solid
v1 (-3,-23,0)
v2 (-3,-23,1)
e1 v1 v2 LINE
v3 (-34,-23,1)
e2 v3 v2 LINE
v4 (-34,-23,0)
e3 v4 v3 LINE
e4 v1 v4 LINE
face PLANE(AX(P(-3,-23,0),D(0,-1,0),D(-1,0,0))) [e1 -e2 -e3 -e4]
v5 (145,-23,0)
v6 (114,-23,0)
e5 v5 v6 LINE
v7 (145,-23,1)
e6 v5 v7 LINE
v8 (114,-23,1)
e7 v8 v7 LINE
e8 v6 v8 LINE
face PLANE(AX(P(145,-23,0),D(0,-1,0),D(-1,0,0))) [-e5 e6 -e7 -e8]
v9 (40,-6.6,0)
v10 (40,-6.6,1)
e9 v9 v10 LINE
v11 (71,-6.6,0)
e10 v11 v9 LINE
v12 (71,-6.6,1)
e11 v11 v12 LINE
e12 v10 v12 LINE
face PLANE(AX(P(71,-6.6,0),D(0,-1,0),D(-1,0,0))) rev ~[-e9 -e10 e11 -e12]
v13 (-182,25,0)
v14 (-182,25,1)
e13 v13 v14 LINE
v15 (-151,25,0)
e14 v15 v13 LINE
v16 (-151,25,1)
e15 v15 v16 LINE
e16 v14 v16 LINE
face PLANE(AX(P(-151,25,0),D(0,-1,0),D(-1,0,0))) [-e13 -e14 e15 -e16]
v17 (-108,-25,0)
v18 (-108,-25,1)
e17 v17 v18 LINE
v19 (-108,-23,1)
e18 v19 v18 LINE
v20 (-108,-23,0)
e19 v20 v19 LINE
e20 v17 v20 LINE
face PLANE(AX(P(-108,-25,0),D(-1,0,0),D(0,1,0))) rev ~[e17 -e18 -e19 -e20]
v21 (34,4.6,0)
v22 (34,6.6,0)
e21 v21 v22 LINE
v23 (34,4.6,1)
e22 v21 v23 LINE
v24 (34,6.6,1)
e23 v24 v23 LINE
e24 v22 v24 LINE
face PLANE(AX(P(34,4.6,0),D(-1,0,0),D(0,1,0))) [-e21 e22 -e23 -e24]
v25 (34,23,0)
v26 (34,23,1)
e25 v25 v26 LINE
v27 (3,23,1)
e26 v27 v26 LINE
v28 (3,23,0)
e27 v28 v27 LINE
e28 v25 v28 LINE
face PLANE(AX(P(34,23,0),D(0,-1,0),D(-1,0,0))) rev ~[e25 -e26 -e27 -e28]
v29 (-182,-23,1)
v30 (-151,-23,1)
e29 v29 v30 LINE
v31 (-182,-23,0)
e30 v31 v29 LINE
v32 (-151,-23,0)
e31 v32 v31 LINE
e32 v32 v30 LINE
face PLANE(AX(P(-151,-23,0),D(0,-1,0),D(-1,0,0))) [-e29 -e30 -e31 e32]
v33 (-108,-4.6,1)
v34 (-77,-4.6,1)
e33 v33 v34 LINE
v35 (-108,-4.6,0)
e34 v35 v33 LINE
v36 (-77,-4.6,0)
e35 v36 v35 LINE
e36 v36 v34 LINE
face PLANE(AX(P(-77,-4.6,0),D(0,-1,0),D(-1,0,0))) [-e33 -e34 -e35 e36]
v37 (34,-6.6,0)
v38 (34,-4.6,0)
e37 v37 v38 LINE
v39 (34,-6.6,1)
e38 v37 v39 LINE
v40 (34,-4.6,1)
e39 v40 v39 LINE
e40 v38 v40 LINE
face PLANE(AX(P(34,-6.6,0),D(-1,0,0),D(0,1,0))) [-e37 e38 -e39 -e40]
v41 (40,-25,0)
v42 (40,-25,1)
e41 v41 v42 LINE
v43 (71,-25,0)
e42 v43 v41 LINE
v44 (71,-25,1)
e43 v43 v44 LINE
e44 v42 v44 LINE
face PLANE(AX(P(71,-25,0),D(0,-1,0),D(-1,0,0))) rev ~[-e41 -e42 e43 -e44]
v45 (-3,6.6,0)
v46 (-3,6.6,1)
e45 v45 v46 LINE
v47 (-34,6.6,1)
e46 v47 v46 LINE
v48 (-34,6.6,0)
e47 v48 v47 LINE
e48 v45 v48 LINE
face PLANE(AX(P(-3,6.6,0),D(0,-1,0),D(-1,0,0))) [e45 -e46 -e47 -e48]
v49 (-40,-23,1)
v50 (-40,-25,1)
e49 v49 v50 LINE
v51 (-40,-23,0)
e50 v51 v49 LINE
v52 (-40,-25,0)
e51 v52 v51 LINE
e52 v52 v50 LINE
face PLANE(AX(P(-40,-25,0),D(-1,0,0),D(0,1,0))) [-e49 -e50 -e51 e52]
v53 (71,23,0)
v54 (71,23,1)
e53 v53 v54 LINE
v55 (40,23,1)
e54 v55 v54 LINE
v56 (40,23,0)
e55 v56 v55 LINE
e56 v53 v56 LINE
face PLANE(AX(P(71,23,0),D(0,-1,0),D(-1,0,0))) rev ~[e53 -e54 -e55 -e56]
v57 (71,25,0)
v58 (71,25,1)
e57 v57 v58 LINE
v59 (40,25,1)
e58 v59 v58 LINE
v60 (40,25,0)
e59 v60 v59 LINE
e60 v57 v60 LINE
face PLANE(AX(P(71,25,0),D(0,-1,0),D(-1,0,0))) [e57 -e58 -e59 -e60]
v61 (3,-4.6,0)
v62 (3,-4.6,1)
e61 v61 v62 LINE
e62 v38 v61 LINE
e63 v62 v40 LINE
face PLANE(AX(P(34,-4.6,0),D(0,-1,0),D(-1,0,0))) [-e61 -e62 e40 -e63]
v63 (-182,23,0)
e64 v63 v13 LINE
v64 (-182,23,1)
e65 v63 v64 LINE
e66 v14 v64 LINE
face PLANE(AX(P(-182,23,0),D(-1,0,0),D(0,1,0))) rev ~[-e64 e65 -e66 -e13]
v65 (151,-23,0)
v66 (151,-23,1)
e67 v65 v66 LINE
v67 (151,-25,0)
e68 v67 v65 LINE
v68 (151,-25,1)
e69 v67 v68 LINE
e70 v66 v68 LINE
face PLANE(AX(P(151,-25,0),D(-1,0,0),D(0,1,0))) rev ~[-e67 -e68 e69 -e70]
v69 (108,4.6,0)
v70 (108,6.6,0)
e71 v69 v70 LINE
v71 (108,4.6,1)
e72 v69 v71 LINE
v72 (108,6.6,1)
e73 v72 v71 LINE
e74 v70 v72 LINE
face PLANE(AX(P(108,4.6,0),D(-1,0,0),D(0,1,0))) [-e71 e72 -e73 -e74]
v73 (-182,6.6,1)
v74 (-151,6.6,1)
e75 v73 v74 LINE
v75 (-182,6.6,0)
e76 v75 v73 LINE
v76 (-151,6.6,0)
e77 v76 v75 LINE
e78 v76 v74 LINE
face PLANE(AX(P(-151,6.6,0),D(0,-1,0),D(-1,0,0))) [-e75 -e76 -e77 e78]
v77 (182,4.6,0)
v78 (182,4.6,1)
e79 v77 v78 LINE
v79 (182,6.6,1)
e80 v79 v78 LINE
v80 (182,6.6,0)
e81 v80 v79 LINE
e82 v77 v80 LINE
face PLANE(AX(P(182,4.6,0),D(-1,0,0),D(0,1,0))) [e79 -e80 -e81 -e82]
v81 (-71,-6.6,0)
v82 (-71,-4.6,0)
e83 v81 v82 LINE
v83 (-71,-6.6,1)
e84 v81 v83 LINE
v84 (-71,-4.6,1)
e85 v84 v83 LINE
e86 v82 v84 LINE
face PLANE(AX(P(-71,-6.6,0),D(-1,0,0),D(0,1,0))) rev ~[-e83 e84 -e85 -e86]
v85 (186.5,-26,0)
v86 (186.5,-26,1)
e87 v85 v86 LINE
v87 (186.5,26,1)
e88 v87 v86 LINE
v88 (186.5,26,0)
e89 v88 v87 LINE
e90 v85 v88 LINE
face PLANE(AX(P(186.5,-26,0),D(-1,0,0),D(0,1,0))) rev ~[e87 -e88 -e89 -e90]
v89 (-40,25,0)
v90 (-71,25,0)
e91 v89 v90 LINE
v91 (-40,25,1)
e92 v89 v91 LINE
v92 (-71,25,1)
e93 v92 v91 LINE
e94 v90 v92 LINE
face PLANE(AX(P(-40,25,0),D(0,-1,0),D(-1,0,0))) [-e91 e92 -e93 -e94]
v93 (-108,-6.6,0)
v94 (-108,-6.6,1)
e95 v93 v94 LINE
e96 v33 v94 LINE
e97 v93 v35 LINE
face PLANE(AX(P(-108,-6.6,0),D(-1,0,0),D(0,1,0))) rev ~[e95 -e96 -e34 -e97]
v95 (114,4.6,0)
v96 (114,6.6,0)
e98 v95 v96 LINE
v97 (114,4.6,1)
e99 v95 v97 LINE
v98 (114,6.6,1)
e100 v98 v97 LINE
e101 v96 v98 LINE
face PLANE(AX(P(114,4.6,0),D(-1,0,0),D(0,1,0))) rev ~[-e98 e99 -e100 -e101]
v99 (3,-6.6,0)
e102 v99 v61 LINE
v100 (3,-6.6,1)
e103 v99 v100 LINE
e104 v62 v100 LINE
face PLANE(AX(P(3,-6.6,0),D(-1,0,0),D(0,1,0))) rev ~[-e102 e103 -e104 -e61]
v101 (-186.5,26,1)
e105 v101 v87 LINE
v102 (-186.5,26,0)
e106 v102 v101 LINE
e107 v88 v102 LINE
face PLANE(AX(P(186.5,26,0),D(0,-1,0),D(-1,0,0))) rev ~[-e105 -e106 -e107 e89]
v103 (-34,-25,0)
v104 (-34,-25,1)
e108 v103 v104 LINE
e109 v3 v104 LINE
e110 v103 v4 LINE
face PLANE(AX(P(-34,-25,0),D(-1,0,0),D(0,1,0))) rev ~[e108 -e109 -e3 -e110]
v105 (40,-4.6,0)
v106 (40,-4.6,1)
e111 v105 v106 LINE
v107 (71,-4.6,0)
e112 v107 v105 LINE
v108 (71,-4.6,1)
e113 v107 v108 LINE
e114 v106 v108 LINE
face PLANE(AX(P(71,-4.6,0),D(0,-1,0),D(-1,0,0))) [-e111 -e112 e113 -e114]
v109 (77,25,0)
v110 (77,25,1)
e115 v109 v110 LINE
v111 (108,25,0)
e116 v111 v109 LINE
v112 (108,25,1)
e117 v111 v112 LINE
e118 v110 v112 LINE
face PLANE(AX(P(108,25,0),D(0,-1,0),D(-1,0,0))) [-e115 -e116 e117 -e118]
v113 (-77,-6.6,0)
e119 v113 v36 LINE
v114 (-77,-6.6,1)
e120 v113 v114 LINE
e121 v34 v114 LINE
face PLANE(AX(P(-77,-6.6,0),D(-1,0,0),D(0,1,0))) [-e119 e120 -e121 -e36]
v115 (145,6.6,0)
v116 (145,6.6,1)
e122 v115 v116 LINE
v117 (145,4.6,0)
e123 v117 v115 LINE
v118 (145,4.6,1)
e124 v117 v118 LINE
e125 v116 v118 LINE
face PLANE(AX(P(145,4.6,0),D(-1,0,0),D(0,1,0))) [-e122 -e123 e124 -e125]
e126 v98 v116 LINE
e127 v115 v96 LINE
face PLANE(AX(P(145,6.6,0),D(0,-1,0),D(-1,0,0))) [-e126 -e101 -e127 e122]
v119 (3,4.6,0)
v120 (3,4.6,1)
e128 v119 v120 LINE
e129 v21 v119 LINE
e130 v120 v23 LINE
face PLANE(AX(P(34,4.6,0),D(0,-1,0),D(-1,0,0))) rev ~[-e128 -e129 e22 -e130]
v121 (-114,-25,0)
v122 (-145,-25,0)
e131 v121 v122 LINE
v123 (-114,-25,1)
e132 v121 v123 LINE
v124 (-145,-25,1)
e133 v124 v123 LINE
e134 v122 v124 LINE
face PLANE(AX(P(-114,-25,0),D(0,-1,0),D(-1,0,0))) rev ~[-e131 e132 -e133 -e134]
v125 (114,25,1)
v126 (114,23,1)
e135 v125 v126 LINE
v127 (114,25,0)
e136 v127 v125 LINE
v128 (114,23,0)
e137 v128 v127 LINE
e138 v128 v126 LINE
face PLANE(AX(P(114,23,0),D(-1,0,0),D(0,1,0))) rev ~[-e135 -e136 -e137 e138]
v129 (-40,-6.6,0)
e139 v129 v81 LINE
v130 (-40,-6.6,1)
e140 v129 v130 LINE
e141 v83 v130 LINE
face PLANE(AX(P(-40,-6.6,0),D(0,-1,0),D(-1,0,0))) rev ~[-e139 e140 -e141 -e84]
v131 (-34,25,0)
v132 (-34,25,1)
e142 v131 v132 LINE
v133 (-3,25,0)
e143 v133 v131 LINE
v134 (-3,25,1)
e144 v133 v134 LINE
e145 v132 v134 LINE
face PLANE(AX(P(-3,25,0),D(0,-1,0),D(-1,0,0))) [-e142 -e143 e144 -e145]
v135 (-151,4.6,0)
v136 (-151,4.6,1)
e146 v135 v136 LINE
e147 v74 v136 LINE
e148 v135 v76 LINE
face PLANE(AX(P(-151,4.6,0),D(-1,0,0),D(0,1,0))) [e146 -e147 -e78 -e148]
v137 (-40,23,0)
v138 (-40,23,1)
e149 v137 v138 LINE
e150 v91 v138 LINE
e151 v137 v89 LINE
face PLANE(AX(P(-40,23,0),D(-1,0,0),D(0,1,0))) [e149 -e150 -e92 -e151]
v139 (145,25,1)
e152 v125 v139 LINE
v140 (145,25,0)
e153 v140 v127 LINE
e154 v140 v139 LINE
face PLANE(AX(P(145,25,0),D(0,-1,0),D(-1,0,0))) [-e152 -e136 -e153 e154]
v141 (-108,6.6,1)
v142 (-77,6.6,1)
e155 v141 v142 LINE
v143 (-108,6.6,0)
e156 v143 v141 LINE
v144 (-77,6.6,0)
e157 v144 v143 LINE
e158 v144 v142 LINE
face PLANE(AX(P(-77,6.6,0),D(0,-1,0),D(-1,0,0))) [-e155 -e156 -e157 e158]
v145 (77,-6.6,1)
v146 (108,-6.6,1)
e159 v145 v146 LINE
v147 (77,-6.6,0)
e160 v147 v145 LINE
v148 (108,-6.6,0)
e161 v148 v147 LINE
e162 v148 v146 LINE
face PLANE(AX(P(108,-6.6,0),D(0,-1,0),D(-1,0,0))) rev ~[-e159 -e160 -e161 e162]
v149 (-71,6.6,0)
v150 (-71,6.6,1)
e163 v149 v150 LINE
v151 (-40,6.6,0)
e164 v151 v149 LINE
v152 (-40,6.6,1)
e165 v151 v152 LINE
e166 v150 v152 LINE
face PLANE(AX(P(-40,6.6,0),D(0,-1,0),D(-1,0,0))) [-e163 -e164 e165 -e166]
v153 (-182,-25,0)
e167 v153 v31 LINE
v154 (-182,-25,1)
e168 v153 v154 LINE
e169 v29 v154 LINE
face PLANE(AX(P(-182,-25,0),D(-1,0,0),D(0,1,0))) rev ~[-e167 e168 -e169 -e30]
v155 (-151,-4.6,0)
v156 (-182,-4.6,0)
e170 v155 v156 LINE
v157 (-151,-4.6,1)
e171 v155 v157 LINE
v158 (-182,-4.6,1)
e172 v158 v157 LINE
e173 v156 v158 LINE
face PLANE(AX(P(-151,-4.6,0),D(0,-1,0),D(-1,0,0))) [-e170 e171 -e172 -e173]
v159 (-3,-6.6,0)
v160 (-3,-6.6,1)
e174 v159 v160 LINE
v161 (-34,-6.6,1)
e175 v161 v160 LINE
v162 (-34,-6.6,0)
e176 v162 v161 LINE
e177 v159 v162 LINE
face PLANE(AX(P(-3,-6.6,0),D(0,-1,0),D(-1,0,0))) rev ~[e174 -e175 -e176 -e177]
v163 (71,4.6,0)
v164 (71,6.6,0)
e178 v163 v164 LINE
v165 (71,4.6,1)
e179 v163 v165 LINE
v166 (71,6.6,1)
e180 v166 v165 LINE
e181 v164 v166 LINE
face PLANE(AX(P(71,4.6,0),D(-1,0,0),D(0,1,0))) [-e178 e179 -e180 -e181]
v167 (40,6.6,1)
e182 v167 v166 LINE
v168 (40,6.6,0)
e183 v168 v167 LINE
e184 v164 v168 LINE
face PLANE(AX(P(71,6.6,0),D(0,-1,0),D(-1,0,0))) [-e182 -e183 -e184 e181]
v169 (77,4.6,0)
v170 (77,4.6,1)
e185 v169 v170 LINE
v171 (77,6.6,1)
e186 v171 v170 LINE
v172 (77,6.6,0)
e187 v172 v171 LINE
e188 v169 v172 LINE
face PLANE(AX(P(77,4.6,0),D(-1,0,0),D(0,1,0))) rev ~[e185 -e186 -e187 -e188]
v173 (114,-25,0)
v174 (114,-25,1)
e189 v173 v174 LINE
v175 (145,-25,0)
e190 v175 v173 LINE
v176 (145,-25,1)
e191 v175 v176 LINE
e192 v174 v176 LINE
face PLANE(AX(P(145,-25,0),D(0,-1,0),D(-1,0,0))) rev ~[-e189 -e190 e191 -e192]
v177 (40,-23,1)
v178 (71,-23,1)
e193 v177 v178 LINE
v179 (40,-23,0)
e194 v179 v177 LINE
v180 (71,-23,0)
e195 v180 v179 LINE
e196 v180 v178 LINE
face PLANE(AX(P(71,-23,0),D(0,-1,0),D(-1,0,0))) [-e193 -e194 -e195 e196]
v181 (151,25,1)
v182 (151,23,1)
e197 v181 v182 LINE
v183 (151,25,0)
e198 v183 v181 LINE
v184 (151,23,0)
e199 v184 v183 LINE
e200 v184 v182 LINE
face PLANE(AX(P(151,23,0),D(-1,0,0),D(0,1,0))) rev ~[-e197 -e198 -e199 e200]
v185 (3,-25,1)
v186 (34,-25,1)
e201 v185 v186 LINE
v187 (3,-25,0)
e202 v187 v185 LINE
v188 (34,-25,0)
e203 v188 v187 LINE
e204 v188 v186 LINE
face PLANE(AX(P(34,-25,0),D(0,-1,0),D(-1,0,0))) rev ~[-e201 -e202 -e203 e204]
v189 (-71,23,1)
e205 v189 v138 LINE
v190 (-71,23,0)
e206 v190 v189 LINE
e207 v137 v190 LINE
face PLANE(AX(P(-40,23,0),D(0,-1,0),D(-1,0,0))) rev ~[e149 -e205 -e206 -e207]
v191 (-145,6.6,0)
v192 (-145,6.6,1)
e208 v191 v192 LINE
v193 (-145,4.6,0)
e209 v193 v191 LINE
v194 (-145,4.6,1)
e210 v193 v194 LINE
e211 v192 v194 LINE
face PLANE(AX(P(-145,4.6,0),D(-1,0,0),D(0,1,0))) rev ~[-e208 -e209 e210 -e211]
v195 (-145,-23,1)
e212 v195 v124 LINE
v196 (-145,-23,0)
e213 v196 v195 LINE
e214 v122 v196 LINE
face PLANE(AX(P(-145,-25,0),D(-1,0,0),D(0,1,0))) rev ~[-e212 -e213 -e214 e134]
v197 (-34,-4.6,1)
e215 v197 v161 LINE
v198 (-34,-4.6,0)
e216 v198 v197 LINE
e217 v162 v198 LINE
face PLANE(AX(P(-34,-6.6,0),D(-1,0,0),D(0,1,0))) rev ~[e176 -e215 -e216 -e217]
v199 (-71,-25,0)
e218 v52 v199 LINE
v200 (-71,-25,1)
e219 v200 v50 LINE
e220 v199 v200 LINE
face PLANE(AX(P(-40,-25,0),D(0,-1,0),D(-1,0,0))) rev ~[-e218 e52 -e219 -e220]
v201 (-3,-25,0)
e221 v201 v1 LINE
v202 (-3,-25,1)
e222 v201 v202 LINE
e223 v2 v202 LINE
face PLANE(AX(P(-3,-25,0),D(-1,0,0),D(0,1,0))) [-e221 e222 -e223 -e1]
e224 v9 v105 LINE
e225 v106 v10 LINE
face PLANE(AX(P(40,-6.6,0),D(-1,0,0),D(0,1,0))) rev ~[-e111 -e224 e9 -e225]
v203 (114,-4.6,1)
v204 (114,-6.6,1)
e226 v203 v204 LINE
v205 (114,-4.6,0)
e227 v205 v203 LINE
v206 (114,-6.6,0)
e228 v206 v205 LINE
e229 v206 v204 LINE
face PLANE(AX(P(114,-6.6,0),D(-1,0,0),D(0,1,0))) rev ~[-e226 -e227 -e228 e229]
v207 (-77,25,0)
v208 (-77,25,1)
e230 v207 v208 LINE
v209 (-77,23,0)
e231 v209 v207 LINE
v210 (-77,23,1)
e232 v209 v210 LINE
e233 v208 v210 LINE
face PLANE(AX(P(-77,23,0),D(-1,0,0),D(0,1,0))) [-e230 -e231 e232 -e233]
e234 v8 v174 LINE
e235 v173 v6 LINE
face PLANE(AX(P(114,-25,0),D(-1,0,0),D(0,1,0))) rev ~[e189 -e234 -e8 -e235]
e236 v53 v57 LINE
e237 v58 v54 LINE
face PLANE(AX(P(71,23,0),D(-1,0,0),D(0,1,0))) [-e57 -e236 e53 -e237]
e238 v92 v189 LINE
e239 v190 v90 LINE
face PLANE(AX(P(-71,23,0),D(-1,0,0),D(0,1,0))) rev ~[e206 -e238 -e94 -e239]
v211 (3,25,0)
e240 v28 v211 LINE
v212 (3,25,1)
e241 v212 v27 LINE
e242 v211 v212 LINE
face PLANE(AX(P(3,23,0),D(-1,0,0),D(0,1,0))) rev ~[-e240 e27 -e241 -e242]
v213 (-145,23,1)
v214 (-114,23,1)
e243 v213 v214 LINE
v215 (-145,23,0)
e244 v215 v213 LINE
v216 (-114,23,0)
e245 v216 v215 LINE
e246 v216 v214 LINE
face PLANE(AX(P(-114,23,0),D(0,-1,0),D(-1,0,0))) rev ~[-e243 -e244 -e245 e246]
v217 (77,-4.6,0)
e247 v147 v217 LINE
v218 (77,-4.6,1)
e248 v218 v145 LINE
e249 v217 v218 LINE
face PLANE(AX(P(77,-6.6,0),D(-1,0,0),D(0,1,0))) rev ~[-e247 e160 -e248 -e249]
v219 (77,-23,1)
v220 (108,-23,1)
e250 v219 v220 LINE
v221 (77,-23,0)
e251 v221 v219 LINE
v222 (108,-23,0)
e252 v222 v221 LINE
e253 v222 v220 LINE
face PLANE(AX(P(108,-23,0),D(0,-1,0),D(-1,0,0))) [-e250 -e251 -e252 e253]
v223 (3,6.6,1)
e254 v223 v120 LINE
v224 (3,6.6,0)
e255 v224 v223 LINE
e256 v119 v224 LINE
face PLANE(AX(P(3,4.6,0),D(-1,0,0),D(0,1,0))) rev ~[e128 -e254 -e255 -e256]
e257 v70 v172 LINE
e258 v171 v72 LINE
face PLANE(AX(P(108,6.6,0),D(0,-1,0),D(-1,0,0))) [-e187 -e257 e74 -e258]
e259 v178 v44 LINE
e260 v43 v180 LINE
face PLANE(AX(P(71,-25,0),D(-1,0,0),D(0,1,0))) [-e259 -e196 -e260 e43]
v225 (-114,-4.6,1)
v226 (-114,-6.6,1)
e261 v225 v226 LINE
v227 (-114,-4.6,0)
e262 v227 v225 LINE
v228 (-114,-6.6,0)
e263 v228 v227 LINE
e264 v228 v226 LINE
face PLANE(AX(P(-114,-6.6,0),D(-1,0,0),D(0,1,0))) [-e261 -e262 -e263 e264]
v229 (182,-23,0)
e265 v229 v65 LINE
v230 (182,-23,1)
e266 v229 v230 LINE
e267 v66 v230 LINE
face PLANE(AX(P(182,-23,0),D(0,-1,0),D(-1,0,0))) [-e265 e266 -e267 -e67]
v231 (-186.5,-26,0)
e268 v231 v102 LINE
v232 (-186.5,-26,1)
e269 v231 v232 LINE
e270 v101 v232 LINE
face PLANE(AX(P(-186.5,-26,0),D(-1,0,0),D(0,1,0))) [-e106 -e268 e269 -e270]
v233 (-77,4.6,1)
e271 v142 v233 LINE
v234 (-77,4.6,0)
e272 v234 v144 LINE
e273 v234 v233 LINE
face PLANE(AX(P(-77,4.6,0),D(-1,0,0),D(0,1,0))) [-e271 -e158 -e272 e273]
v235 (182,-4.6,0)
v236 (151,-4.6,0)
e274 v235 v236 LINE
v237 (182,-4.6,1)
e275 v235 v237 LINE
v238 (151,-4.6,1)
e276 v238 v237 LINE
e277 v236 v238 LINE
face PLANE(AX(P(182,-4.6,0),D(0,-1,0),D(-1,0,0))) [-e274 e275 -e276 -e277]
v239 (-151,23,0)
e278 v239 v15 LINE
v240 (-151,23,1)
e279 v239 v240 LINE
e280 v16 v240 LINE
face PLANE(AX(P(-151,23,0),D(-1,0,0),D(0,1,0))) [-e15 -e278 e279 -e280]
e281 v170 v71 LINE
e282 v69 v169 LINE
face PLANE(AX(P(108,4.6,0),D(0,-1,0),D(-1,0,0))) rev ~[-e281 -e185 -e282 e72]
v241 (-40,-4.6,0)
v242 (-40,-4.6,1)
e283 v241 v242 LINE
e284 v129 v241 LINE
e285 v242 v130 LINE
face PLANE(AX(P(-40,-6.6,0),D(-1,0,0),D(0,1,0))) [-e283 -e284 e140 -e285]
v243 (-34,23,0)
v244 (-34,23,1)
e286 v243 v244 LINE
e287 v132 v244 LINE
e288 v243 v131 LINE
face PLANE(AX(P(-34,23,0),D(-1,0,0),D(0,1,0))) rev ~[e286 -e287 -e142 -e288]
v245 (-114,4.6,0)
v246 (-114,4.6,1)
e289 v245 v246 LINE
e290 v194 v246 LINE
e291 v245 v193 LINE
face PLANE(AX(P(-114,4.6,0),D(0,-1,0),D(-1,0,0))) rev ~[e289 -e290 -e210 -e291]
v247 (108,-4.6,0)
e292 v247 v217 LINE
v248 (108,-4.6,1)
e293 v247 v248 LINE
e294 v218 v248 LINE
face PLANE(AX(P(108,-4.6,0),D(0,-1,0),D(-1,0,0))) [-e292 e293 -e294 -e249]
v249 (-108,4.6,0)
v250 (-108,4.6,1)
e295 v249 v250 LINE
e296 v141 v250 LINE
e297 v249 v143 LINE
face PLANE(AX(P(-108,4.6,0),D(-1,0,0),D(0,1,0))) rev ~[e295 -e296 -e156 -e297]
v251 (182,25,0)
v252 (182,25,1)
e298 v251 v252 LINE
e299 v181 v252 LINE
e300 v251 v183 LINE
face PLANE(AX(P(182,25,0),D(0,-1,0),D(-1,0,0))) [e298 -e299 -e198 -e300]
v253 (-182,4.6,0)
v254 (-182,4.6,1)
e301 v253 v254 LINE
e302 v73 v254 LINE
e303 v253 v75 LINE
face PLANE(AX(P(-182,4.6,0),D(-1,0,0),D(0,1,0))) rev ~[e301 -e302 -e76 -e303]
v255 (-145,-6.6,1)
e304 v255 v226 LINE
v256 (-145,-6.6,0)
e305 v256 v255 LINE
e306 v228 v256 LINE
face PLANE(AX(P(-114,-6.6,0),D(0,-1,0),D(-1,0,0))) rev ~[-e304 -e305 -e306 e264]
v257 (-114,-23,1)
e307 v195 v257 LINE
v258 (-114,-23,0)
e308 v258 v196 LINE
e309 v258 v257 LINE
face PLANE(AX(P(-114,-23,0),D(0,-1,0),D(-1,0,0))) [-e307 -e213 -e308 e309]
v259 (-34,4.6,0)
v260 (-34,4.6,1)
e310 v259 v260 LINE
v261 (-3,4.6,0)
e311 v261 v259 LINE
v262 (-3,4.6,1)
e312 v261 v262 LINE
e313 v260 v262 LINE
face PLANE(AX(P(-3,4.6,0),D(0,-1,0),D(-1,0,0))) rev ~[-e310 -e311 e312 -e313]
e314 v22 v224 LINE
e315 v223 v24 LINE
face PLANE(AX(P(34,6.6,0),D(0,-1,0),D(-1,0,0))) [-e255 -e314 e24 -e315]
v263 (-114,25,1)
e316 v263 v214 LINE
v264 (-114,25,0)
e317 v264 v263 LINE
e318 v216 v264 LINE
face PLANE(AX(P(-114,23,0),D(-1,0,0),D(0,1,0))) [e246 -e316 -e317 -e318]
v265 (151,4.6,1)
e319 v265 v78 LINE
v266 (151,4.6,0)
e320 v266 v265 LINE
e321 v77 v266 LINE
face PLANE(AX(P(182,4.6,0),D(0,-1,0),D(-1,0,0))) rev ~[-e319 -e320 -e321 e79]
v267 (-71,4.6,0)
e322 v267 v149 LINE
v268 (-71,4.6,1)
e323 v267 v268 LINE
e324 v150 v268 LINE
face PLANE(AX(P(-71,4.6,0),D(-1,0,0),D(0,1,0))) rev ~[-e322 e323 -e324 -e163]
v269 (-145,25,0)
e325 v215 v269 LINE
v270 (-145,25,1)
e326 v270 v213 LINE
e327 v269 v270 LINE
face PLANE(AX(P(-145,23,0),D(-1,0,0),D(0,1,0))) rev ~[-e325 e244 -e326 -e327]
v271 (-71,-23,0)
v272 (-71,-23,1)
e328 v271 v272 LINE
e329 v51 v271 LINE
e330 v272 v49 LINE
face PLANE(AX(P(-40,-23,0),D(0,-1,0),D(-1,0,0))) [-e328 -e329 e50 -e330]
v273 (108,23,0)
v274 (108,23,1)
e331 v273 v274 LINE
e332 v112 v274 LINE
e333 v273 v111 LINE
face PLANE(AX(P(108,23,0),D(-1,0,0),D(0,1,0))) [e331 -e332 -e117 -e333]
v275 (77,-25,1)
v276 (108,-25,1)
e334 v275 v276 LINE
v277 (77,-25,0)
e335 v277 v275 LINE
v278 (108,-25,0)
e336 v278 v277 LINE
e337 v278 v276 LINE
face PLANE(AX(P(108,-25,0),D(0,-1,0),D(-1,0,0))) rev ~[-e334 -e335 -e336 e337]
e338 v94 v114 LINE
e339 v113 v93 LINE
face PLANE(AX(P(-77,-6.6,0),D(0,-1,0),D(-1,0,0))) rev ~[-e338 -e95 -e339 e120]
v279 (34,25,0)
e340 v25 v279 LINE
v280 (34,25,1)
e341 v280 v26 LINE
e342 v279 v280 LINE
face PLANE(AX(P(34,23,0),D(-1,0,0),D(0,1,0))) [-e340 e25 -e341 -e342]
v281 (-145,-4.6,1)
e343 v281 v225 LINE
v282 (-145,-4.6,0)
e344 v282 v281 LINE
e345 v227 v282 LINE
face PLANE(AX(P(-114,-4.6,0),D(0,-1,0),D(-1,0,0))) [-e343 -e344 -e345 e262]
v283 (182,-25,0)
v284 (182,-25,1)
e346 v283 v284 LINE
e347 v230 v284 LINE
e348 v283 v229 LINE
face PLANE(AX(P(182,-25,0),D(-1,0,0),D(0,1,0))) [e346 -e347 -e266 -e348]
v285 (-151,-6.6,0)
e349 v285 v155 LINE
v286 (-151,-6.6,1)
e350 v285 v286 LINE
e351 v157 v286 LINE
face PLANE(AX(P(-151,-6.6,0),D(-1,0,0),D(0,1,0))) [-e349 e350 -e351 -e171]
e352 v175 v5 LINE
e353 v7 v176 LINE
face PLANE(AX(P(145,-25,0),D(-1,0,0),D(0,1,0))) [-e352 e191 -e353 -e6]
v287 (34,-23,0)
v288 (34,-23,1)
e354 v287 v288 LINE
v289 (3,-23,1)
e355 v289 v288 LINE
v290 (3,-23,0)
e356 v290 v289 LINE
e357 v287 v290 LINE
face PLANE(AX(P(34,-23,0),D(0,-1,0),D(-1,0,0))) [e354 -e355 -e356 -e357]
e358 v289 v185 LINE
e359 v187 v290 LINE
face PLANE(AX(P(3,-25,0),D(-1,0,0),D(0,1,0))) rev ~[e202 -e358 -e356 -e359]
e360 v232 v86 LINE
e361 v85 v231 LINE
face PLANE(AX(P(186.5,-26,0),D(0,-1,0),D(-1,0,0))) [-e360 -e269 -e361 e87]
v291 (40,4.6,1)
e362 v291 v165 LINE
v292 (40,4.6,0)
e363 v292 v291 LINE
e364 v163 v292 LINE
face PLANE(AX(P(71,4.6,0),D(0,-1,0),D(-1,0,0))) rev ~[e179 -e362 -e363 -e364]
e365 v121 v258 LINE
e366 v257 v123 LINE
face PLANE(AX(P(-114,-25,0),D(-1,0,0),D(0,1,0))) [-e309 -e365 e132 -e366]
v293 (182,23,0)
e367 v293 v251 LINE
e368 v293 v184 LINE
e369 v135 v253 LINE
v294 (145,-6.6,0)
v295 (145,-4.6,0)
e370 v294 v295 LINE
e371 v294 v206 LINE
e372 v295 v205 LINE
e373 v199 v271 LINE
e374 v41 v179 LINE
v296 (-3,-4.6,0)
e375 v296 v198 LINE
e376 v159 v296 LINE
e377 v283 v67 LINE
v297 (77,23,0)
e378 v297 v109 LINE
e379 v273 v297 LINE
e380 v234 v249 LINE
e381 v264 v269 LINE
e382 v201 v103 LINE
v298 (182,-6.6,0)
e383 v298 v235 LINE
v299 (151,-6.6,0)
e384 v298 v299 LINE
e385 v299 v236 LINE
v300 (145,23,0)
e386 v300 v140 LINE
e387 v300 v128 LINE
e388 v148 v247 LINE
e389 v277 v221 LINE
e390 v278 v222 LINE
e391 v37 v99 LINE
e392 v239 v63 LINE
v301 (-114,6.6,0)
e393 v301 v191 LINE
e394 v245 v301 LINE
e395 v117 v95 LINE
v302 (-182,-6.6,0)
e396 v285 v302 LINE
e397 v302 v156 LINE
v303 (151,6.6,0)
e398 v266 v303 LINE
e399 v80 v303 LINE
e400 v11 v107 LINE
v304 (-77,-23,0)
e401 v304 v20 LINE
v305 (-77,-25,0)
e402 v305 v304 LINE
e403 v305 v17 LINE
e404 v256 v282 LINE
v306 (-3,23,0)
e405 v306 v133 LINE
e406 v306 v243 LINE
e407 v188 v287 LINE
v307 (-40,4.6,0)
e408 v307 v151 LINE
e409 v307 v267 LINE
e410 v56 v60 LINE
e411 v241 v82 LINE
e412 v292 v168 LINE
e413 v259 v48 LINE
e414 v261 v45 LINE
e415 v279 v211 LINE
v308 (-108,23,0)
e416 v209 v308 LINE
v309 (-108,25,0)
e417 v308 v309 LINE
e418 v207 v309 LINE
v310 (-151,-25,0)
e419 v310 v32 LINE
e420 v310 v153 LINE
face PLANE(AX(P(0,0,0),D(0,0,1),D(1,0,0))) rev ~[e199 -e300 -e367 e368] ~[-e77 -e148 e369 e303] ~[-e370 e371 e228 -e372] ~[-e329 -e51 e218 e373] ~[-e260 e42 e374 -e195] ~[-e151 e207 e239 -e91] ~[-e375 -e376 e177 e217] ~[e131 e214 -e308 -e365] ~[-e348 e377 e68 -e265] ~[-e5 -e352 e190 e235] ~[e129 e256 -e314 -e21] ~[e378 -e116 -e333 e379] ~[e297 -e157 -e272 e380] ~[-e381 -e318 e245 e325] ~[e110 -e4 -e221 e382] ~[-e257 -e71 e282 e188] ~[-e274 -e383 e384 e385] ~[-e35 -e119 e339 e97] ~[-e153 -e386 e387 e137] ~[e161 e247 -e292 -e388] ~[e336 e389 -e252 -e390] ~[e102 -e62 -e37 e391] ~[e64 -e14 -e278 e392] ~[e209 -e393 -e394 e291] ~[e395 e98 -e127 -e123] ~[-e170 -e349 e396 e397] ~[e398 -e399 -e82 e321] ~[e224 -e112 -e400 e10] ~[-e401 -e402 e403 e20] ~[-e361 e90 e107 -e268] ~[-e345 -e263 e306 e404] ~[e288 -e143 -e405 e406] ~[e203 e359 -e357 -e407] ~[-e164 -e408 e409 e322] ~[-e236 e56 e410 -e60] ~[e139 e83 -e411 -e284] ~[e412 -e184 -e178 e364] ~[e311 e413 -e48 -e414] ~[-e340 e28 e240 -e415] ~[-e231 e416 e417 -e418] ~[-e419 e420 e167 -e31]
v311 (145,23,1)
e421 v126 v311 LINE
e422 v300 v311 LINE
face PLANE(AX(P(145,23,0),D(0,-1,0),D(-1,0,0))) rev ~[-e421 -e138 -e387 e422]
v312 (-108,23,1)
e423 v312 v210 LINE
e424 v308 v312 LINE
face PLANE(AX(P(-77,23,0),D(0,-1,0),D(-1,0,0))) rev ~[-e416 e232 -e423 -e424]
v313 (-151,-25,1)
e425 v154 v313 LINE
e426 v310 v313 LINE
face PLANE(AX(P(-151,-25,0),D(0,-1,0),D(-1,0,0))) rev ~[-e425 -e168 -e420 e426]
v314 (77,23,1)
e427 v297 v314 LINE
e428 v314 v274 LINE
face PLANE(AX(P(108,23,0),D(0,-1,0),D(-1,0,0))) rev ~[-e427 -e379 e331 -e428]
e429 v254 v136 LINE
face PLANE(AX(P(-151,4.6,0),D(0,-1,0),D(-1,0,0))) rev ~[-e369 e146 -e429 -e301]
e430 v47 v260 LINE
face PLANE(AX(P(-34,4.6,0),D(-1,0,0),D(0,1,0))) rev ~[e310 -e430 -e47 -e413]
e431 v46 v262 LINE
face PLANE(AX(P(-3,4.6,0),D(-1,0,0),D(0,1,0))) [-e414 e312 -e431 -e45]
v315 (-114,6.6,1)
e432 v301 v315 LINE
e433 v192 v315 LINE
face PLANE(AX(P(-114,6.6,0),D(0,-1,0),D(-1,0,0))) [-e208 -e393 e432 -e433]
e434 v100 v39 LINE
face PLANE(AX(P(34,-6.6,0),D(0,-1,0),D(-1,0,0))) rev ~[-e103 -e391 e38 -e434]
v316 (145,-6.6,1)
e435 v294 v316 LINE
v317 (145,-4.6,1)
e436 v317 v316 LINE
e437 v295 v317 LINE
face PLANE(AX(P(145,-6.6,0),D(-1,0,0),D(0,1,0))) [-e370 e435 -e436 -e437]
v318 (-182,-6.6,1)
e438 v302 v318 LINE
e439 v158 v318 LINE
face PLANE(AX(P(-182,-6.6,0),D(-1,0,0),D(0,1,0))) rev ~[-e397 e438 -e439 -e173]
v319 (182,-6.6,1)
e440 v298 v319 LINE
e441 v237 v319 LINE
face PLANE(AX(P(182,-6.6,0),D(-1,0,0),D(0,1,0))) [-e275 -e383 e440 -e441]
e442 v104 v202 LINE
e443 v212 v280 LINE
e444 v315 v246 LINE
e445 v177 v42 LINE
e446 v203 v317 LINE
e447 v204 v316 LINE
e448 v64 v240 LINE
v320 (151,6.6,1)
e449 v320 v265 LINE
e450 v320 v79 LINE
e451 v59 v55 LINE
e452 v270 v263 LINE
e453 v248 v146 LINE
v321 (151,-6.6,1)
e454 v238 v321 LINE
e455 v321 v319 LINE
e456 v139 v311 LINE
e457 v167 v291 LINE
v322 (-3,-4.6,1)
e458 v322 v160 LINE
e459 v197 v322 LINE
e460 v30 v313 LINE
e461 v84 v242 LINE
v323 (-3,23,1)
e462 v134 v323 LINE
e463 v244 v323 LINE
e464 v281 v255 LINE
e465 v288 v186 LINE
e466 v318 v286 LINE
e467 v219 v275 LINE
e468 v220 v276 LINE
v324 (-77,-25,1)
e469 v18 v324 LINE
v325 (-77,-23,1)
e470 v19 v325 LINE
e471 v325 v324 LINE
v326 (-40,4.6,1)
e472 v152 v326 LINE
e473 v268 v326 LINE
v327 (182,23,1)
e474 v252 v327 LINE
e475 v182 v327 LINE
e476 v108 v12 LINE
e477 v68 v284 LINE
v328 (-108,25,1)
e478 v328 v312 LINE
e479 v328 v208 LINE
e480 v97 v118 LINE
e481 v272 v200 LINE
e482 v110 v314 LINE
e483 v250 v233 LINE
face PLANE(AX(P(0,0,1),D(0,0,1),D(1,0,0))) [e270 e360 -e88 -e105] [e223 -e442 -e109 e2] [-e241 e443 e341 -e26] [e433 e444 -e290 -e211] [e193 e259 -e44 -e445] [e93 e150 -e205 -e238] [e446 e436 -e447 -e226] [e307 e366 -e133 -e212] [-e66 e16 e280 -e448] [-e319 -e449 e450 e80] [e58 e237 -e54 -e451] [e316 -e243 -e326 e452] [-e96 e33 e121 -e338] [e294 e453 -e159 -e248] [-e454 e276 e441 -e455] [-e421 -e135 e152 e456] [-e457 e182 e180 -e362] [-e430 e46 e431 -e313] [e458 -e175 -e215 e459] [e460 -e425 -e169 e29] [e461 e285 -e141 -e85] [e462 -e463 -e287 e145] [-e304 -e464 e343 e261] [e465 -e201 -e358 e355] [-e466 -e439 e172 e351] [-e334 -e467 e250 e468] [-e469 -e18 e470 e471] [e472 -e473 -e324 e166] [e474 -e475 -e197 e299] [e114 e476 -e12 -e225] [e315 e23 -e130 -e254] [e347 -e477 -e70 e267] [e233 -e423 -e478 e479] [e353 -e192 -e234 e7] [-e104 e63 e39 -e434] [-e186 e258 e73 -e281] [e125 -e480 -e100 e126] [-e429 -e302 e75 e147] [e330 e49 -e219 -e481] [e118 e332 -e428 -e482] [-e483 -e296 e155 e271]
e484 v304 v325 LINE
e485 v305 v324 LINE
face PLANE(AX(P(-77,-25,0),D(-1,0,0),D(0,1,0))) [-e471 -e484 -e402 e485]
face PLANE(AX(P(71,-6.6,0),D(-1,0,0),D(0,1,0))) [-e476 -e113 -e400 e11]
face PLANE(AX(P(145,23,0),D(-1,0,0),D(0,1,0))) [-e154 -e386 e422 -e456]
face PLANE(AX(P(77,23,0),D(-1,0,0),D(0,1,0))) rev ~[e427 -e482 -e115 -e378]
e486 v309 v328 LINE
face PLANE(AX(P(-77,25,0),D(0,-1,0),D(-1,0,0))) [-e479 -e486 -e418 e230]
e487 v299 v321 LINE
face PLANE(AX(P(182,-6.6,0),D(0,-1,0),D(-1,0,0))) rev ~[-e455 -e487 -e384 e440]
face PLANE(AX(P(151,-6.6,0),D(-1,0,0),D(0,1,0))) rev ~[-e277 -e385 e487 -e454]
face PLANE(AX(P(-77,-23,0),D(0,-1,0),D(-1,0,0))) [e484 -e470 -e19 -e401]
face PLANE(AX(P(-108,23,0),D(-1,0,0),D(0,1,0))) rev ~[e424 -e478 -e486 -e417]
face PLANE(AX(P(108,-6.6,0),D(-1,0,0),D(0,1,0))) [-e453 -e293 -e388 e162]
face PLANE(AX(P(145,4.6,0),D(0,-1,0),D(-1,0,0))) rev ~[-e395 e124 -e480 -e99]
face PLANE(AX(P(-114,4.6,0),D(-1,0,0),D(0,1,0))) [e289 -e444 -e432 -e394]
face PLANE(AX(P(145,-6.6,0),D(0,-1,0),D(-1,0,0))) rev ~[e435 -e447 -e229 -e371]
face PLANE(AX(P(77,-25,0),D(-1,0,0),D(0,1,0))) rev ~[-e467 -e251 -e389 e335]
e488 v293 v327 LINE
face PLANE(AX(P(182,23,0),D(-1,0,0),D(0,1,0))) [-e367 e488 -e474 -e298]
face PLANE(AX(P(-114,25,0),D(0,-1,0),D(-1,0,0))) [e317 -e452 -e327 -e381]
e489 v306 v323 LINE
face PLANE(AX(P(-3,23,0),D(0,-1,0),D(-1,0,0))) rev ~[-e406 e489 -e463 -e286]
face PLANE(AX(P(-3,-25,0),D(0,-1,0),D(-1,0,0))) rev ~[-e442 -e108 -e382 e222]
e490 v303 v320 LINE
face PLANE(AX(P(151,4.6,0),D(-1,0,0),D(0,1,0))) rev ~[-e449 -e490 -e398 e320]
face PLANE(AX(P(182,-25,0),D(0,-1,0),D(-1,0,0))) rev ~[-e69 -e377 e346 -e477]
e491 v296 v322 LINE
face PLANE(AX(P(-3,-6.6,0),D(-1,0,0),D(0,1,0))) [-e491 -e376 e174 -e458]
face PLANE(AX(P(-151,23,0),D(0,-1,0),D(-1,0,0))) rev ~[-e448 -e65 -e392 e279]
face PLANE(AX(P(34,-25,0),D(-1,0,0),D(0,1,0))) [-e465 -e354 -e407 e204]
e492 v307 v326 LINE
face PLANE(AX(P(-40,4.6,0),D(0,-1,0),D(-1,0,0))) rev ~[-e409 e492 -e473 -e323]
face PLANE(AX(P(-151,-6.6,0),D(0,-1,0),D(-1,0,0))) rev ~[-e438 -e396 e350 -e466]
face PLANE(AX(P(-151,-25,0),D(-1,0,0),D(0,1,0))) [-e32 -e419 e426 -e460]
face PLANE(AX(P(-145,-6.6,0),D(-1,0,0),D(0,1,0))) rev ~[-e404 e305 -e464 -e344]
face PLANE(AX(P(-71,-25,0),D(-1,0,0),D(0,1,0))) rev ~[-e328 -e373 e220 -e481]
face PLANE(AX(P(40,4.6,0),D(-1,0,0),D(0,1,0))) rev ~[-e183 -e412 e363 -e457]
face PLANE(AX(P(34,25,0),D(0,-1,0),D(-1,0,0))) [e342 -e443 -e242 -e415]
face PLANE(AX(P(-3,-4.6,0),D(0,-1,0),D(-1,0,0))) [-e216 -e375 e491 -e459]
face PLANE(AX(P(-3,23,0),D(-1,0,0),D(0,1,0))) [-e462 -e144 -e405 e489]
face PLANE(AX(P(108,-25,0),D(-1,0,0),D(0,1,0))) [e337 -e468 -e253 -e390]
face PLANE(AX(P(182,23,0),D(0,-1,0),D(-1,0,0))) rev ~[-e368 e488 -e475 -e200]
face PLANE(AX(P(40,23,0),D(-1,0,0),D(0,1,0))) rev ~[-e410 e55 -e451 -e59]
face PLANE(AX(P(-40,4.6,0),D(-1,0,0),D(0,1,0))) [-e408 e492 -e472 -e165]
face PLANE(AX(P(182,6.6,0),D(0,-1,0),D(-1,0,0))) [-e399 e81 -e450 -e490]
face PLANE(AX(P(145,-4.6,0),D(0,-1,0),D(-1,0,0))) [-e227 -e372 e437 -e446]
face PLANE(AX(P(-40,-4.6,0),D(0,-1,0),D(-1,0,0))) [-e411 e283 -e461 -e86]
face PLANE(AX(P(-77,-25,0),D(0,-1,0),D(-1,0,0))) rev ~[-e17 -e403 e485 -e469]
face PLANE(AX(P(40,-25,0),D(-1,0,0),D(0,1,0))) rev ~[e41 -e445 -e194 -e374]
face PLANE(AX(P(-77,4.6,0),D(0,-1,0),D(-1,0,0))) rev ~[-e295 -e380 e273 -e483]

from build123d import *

# Parameters (mm, degrees)
SZKIC1_W                    = 374
SZKIC1_H                    = 53
DODANIE_WYCI_GNI_CIE1_DEPTH = 1
SZKIC6_W                    = 31
SZKIC6_H                    = 2
WYTNIJ_WYCI_GNI_CIE1_DEPTH  = 2
SZKIC7_W                    = 374
SZKIC7_H                    = 53
SZKIC7_W_2                  = 373
SZKIC7_H_2                  = 52
WYTNIJ_WYCI_GNI_CIE2_DEPTH  = 10


with BuildPart() as part:
    # Szkic1 → Dodanie-wyciągnięcie1 (new body)
    with BuildSketch(Plane.XY):
        Rectangle(SZKIC1_W, SZKIC1_H)
    extrude(amount=DODANIE_WYCI_GNI_CIE1_DEPTH)

    # Szkic6 → Wytnij-wyciągnięcie1 (cut)
    with BuildSketch(Plane(origin=(0, 0, 0), x_dir=(-1, 0, 0), z_dir=(0, 0, -1))):
        with Locations((-166.5, -5.6)):
            Rectangle(SZKIC6_W, SZKIC6_H)
        with Locations((-129.5, -5.6)):
            Rectangle(SZKIC6_W, SZKIC6_H)
        with Locations((-92.5, -5.6)):
            Rectangle(SZKIC6_W, SZKIC6_H)
        with Locations((-18.5, -5.6)):
            Rectangle(SZKIC6_W, SZKIC6_H)
        with Locations((18.5, -5.6)):
            Rectangle(SZKIC6_W, SZKIC6_H)
        with Locations((55.5, -5.6)):
            Rectangle(SZKIC6_W, SZKIC6_H)
        with Locations((92.5, -5.6)):
            Rectangle(SZKIC6_W, SZKIC6_H)
        with Locations((129.5, -5.6)):
            Rectangle(SZKIC6_W, SZKIC6_H)
        with Locations((166.5, -5.6)):
            Rectangle(SZKIC6_W, SZKIC6_H)
        with Locations((-129.5, -24)):
            Rectangle(SZKIC6_W, SZKIC6_H)
        with Locations((-166.5, 24)):
            Rectangle(SZKIC6_W, SZKIC6_H)
        with Locations((-166.5, -24)):
            Rectangle(SZKIC6_W, SZKIC6_H)
        with Locations((-129.5, 24)):
            Rectangle(SZKIC6_W, SZKIC6_H)
        with Locations((-92.5, -24)):
            Rectangle(SZKIC6_W, SZKIC6_H)
        with Locations((-92.5, 24)):
            Rectangle(SZKIC6_W, SZKIC6_H)
        with Locations((-55.5, -24)):
            Rectangle(SZKIC6_W, SZKIC6_H)
        with Locations((-55.5, 24)):
            Rectangle(SZKIC6_W, SZKIC6_H)
        with Locations((-18.5, -24)):
            Rectangle(SZKIC6_W, SZKIC6_H)
        with Locations((-18.5, 24)):
            Rectangle(SZKIC6_W, SZKIC6_H)
        with Locations((18.5, -24)):
            Rectangle(SZKIC6_W, SZKIC6_H)
        with Locations((18.5, 24)):
            Rectangle(SZKIC6_W, SZKIC6_H)
        with Locations((55.5, -24)):
            Rectangle(SZKIC6_W, SZKIC6_H)
        with Locations((55.5, 24)):
            Rectangle(SZKIC6_W, SZKIC6_H)
        with Locations((92.5, -24)):
            Rectangle(SZKIC6_W, SZKIC6_H)
        with Locations((92.5, 24)):
            Rectangle(SZKIC6_W, SZKIC6_H)
        with Locations((129.5, -24)):
            Rectangle(SZKIC6_W, SZKIC6_H)
        with Locations((129.5, 24)):
            Rectangle(SZKIC6_W, SZKIC6_H)
        with Locations((166.5, -24)):
            Rectangle(SZKIC6_W, SZKIC6_H)
        with Locations((166.5, 24)):
            Rectangle(SZKIC6_W, SZKIC6_H)
        with Locations((-129.5, 5.6)):
            Rectangle(SZKIC6_W, SZKIC6_H)
        with Locations((-55.5, -5.6)):
            Rectangle(SZKIC6_W, SZKIC6_H)
        with Locations((-166.5, 5.6)):
            Rectangle(SZKIC6_W, SZKIC6_H)
        with Locations((-92.5, 5.6)):
            Rectangle(SZKIC6_W, SZKIC6_H)
        with Locations((-55.5, 5.6)):
            Rectangle(SZKIC6_W, SZKIC6_H)
        with Locations((-18.5, 5.6)):
            Rectangle(SZKIC6_W, SZKIC6_H)
        with Locations((18.5, 5.6)):
            Rectangle(SZKIC6_W, SZKIC6_H)
        with Locations((55.5, 5.6)):
            Rectangle(SZKIC6_W, SZKIC6_H)
        with Locations((92.5, 5.6)):
            Rectangle(SZKIC6_W, SZKIC6_H)
        with Locations((129.5, 5.6)):
            Rectangle(SZKIC6_W, SZKIC6_H)
        with Locations((166.5, 5.6)):
            Rectangle(SZKIC6_W, SZKIC6_H)
    extrude(amount=-WYTNIJ_WYCI_GNI_CIE1_DEPTH, mode=Mode.SUBTRACT)

    # Szkic7 → Wytnij-wyciągnięcie2 (cut)
    with BuildSketch(Plane(origin=(0, 0, 0), x_dir=(-1, 0, 0), z_dir=(0, 0, -1))):
        Rectangle(SZKIC7_W, SZKIC7_H)
        Rectangle(SZKIC7_W_2, SZKIC7_H_2, mode=Mode.SUBTRACT)
    extrude(amount=-WYTNIJ_WYCI_GNI_CIE2_DEPTH, mode=Mode.SUBTRACT)


solid = part.part
